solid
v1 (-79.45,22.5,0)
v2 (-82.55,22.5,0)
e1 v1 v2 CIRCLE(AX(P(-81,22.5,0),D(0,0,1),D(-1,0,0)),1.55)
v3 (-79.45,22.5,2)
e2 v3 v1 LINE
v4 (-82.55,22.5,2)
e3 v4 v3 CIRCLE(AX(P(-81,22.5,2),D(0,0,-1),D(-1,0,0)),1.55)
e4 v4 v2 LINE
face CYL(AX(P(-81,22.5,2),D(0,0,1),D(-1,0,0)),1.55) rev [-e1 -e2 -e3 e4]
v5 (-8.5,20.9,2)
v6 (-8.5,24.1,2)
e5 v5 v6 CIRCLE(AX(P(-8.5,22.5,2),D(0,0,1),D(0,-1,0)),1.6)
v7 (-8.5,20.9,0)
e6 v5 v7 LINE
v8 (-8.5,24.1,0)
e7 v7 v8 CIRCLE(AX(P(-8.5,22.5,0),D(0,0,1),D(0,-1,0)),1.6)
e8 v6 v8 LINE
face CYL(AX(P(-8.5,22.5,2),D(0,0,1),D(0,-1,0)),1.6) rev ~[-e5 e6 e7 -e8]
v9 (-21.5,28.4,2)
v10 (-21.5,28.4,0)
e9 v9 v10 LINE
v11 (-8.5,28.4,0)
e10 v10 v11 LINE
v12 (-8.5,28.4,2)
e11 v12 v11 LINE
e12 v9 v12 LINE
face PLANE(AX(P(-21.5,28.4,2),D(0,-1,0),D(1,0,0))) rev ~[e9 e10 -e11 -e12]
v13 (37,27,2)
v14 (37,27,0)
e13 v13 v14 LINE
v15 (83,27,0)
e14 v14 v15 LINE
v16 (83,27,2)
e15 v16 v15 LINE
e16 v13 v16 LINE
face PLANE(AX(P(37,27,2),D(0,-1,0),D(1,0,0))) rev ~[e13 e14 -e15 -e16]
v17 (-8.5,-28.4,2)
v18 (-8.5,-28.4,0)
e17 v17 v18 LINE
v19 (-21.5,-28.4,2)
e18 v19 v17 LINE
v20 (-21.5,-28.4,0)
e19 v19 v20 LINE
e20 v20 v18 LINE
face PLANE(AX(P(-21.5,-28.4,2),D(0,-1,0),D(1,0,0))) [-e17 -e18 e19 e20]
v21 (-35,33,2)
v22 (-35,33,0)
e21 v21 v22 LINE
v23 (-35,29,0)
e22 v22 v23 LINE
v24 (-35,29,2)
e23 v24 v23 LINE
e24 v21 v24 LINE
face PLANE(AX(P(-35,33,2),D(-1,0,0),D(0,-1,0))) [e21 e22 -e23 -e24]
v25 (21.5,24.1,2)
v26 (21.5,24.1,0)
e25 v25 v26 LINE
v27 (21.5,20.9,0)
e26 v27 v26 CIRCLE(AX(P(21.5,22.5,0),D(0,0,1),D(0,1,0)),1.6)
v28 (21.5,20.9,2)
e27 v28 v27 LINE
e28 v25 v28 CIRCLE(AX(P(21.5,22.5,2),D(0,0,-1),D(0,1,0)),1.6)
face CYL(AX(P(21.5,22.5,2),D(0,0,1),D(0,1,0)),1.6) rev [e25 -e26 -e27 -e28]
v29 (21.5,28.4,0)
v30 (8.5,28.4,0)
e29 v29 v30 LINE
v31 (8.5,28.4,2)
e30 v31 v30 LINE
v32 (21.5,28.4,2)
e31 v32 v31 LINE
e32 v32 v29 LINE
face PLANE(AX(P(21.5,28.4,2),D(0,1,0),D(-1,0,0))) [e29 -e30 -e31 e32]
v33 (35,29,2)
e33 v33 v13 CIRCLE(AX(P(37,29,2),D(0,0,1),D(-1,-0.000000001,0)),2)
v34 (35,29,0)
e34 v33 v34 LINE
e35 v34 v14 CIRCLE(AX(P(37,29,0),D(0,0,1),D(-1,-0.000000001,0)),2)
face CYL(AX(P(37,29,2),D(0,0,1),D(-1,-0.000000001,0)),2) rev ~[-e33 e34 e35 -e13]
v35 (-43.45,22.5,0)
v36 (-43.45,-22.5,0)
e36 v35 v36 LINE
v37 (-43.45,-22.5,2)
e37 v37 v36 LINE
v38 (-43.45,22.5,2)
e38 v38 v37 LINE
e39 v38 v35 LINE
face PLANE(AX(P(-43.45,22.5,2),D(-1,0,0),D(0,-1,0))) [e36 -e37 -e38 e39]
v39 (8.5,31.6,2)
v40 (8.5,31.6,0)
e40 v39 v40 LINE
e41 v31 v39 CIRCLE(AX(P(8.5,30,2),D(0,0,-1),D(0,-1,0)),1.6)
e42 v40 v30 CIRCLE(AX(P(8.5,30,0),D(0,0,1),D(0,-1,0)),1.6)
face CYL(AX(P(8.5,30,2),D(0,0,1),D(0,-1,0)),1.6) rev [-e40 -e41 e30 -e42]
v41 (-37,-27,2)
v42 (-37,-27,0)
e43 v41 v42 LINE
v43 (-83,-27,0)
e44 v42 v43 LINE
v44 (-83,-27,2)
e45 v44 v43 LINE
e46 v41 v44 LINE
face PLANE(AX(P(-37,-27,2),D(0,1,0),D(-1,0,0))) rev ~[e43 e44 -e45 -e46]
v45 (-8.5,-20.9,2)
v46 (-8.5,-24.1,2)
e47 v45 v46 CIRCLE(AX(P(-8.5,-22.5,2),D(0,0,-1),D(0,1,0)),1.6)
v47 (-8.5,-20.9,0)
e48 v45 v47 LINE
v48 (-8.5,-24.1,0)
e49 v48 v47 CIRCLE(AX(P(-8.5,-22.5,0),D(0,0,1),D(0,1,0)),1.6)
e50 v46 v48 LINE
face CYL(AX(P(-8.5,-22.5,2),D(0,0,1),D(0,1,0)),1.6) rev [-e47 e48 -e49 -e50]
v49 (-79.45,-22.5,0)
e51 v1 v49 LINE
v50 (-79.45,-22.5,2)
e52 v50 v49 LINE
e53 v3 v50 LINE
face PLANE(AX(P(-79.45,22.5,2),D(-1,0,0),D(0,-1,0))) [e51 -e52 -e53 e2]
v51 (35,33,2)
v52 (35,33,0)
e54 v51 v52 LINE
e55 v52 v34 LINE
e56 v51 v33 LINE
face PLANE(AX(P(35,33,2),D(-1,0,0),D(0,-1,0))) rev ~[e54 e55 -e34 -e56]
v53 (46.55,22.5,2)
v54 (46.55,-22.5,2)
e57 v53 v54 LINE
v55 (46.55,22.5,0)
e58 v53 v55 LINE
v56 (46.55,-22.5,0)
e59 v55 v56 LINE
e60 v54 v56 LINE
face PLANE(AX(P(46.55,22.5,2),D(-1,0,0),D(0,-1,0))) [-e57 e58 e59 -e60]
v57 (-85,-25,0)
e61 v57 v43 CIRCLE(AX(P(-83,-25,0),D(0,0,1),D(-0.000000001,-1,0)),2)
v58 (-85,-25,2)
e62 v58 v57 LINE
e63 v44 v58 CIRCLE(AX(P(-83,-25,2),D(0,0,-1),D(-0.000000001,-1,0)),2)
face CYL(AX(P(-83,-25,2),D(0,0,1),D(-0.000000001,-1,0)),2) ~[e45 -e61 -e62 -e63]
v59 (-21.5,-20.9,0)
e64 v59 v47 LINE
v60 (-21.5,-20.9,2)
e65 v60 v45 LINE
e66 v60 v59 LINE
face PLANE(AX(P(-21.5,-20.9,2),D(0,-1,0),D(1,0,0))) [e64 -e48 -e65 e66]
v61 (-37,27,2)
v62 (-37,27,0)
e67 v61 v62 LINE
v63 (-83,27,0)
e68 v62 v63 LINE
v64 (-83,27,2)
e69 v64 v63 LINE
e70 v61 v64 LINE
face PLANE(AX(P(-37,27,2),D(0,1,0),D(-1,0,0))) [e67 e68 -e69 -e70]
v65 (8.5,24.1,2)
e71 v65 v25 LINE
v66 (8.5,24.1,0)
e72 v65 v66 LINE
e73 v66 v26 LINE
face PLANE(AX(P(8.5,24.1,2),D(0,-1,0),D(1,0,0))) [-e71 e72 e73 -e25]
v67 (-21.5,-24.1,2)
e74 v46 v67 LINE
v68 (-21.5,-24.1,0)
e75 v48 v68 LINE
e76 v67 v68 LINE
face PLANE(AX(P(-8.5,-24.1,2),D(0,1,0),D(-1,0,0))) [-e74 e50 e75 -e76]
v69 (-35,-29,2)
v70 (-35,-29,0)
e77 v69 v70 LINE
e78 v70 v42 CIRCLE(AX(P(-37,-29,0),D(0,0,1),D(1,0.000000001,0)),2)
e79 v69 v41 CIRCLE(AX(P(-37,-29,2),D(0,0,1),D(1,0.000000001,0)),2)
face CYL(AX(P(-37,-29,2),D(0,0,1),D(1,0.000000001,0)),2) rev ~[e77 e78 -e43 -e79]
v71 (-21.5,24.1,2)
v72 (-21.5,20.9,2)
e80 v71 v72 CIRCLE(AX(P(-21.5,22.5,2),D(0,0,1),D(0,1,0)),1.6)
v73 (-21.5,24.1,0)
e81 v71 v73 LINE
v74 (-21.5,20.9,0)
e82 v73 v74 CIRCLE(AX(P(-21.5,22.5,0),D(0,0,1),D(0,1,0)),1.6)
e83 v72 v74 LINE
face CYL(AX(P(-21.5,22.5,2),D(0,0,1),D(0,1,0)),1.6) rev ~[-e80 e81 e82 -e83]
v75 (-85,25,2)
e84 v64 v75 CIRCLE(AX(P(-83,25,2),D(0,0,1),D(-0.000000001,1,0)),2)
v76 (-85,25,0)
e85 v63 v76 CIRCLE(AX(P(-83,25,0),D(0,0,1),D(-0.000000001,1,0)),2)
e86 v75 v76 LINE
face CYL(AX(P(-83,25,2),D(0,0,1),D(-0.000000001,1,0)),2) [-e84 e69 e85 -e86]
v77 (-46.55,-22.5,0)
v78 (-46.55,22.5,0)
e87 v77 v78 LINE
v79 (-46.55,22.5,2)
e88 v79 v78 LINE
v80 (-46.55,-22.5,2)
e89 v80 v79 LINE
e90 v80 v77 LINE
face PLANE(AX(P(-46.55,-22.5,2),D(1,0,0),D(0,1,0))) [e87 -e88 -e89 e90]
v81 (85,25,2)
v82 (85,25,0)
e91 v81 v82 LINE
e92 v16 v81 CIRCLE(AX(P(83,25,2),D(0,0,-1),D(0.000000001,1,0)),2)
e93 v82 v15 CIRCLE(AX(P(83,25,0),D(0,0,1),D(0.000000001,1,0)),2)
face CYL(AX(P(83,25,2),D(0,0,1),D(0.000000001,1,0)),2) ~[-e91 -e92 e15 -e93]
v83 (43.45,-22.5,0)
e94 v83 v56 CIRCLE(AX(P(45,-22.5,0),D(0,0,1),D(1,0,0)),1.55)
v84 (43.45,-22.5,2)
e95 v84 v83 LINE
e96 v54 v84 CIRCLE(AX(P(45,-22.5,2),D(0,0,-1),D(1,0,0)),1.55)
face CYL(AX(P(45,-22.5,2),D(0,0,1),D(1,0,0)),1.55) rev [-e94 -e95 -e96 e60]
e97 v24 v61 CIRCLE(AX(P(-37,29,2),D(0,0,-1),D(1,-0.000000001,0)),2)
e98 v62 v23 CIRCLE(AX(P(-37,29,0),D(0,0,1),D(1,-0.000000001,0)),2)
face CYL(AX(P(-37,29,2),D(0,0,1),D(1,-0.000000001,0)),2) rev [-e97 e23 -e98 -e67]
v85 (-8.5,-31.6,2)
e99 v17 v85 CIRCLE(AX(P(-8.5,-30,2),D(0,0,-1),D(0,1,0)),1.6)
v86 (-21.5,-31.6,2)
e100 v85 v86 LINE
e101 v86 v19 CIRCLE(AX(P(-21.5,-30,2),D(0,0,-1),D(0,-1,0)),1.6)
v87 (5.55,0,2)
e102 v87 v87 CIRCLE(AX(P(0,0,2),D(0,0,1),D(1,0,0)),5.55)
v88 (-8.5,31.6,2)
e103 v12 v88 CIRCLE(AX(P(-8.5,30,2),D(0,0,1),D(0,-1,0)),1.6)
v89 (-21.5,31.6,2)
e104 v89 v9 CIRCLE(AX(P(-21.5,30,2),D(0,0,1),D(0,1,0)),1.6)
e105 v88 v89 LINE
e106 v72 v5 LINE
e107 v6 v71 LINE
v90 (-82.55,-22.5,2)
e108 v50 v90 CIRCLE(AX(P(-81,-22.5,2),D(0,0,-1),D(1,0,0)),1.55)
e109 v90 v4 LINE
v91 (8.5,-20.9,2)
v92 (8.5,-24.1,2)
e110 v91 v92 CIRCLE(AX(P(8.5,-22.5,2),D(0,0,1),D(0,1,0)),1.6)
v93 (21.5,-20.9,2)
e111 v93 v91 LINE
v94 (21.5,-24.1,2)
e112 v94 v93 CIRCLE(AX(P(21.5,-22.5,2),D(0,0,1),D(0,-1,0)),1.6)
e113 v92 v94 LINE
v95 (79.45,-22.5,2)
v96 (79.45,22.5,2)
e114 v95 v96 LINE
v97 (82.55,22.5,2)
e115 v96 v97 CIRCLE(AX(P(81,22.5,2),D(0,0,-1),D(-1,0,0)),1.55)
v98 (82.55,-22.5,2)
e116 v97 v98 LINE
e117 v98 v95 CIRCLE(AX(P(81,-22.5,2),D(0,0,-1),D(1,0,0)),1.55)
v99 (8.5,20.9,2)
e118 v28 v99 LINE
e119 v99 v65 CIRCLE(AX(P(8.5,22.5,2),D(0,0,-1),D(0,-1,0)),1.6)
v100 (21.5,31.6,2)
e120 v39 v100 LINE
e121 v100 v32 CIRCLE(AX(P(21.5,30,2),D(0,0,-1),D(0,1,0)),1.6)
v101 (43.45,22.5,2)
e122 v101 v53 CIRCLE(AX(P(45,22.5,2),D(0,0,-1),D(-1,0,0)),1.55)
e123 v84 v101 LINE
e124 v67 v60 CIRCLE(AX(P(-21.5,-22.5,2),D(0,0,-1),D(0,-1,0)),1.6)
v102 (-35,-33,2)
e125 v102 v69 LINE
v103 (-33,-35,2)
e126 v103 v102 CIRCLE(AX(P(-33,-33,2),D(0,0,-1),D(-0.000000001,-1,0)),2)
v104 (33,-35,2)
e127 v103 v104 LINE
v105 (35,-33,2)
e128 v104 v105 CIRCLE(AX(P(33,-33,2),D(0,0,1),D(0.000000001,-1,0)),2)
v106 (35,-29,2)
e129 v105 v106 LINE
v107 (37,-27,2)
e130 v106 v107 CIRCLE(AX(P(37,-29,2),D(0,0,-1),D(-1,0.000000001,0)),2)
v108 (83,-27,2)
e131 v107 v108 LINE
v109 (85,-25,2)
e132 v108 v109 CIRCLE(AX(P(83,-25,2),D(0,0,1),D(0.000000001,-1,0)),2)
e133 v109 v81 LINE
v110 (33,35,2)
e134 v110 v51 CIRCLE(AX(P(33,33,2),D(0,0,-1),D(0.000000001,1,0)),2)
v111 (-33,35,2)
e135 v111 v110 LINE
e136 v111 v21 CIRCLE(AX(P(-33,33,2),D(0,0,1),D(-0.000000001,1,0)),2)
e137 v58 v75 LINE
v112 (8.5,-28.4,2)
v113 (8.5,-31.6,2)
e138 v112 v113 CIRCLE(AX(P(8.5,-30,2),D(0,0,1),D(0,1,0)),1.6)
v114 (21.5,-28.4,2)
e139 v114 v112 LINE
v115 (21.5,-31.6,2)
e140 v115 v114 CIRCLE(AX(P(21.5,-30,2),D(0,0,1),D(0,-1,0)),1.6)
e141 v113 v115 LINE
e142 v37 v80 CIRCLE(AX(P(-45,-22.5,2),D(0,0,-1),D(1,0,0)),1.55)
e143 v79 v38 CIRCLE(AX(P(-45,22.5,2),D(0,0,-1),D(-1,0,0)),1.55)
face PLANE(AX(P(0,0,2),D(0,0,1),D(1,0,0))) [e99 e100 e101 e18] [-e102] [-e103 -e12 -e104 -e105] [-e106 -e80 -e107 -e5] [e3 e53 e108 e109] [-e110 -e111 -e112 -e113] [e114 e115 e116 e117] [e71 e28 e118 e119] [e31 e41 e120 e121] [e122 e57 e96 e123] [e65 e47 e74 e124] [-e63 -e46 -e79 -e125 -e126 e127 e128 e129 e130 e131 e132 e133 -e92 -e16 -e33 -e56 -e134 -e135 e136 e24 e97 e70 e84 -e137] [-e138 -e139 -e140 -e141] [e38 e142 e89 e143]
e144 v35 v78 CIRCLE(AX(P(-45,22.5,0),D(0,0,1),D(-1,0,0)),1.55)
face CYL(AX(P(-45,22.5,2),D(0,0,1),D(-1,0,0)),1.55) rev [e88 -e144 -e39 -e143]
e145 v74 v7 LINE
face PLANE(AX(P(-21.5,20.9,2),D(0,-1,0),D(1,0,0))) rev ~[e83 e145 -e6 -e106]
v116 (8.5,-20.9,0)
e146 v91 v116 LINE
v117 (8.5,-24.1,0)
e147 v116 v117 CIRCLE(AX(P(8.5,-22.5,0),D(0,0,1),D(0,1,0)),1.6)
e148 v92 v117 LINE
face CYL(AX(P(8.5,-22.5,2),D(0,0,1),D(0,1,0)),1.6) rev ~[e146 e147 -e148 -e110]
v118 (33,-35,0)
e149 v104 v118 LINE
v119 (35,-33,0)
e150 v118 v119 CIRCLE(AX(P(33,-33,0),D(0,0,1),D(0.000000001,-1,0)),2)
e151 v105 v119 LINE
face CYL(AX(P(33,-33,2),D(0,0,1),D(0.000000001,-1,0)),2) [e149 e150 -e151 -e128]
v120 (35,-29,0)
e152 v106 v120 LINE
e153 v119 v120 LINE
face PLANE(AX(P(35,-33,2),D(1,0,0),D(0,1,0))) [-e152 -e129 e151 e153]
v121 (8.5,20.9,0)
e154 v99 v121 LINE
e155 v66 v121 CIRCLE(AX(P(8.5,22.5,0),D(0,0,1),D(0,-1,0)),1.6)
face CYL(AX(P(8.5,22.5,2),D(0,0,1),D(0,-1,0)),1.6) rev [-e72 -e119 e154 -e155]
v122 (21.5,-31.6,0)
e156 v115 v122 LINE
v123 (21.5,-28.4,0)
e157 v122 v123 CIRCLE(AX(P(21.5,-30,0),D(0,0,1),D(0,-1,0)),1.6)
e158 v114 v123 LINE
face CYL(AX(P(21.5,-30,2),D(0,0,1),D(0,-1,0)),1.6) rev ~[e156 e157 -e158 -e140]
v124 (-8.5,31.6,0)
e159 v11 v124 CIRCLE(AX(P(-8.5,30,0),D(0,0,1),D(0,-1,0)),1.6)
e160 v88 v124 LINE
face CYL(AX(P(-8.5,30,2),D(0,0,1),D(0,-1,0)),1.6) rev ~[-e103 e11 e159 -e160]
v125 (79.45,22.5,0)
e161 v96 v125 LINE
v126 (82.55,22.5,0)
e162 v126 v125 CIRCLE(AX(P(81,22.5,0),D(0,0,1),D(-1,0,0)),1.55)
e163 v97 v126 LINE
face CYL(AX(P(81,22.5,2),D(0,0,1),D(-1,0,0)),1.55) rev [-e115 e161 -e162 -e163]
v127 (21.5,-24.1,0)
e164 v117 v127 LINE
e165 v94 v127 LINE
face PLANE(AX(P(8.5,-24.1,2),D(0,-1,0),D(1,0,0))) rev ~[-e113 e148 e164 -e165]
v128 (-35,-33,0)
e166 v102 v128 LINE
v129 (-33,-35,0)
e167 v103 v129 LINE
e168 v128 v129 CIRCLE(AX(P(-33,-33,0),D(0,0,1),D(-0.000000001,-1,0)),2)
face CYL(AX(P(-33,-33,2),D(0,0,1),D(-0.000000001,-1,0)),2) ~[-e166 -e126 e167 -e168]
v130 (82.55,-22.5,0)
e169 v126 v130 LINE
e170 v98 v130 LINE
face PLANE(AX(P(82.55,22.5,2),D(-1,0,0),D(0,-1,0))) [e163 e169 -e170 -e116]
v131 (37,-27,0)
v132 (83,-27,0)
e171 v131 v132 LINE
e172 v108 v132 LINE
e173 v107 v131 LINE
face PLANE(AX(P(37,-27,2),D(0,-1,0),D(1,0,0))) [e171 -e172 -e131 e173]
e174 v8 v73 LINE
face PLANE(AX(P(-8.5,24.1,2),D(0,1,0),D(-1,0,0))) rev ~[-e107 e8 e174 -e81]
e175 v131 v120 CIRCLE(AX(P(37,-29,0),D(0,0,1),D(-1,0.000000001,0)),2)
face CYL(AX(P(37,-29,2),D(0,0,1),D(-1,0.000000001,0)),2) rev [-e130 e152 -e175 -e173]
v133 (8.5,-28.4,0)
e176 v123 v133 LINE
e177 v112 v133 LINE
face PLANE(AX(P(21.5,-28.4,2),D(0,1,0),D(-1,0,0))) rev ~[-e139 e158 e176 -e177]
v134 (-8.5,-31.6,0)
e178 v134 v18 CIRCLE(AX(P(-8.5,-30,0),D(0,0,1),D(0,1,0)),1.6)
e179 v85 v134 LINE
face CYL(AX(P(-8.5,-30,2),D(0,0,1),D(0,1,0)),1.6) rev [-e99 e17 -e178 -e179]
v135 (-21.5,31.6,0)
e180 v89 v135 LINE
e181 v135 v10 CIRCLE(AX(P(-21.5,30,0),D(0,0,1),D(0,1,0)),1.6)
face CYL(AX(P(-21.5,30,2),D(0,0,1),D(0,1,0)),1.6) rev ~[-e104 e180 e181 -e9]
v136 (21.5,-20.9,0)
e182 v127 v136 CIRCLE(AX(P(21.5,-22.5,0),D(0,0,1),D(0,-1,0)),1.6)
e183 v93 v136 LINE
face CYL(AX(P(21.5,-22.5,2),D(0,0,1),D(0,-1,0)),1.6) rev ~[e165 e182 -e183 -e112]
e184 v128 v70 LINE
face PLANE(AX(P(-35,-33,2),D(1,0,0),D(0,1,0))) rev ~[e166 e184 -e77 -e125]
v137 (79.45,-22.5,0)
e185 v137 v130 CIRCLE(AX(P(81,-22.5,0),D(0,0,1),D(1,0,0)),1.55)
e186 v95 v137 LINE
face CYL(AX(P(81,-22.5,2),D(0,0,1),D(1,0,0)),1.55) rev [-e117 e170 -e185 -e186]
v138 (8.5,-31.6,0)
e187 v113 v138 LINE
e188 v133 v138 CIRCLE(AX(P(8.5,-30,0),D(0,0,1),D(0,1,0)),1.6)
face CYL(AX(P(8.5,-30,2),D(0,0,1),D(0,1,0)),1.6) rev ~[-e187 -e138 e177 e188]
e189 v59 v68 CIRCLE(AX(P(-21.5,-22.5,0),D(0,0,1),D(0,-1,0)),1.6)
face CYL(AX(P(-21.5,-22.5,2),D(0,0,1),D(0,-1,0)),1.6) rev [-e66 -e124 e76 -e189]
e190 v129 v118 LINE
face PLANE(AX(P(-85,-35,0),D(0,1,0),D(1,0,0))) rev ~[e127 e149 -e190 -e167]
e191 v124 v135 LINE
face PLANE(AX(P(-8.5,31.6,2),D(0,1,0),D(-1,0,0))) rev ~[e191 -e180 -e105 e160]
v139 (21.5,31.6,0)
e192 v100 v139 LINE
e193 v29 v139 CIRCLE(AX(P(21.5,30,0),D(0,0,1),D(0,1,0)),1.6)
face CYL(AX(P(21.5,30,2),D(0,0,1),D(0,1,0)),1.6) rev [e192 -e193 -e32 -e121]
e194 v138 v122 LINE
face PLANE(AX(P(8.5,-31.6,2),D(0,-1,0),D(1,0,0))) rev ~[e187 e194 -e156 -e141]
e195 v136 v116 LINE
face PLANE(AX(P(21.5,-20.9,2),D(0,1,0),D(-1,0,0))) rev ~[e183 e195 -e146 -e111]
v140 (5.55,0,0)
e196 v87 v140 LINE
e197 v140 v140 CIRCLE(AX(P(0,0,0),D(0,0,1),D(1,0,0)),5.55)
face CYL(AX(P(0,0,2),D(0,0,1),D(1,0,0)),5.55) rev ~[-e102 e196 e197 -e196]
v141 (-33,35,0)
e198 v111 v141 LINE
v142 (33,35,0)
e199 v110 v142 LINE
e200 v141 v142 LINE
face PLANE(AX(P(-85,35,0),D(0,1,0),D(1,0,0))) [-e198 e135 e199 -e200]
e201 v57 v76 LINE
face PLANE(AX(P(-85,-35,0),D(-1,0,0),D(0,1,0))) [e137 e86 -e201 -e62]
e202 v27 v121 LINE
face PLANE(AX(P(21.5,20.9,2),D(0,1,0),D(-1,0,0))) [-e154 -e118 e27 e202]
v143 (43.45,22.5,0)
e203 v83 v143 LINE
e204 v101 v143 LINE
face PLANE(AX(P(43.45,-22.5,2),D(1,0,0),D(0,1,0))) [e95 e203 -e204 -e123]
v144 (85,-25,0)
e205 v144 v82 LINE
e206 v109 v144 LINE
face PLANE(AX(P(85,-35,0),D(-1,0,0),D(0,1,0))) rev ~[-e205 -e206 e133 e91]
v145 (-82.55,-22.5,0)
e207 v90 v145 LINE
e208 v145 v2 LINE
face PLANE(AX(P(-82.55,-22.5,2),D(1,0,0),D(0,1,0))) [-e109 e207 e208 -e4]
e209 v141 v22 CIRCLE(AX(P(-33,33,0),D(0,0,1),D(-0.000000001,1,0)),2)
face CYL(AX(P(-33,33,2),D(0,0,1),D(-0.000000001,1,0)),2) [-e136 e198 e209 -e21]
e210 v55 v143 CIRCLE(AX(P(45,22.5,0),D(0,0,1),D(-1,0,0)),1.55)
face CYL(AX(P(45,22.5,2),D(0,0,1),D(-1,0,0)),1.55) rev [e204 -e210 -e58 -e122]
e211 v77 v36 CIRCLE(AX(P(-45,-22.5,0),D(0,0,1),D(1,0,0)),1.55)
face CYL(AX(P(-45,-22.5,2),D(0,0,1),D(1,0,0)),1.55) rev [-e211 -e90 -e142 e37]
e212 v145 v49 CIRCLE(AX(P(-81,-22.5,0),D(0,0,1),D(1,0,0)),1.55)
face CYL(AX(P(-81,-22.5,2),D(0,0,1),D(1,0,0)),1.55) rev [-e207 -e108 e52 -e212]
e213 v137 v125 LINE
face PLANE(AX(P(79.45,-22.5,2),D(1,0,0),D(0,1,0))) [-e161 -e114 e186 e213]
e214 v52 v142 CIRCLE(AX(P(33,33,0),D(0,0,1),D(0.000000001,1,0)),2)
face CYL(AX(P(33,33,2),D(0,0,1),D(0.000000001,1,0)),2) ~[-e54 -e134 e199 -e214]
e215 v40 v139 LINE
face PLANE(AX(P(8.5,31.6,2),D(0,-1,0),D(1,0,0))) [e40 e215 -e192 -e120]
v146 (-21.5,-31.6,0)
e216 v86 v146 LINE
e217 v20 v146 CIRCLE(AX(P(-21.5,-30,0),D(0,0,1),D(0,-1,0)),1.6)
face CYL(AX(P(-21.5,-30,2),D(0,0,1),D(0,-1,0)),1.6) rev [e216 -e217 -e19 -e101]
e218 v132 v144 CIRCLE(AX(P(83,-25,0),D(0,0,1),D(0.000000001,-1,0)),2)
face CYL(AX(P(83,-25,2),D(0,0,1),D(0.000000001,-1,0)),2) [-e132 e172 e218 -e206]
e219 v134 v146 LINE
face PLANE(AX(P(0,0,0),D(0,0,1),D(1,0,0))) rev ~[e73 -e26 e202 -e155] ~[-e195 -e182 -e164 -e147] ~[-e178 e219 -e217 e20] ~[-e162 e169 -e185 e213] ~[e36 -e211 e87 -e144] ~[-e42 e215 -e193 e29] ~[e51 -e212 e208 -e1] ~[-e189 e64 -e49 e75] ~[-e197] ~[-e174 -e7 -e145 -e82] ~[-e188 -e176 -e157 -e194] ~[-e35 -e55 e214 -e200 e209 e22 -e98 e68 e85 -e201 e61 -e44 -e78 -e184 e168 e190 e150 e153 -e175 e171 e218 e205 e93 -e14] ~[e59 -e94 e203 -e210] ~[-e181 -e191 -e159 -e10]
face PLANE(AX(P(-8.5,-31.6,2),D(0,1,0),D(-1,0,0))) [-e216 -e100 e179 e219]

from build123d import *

# Parameters (mm, degrees)
SKETCH_1_W          = 170
SKETCH_1_H          = 70
EXTRUDE_1_DEPTH     = 2
SKETCH_2_R          = 5.55
CUT_EXTRUDE_1_DEPTH = 92.945636112
CUT_EXTRUDE_2_DEPTH = 92.945636112


with BuildPart() as part:
    # 草圖1 → 填料-伸長1 (new body)
    with BuildSketch(Plane.XY):
        Rectangle(SKETCH_1_W, SKETCH_1_H)
    extrude(amount=EXTRUDE_1_DEPTH)

    # 草圖2 → 除料-伸長1 (cut, through all)
    with BuildSketch(Plane.XY.offset(2)):
        Circle(SKETCH_2_R)
        with BuildLine():
            Line((43.45, -22.5), (43.45, 22.5))
            ThreePointArc((43.45, 22.5), (45, 24.05), (46.55, 22.5))
            Line((46.55, 22.5), (46.55, -22.5))
            ThreePointArc((46.55, -22.5), (45, -24.05), (43.45, -22.5))
        make_face()
        with BuildLine():
            Line((-46.55, -22.5), (-46.55, 22.5))
            ThreePointArc((-46.55, 22.5), (-45, 24.05), (-43.45, 22.5))
            Line((-43.45, 22.5), (-43.45, -22.5))
            ThreePointArc((-43.45, -22.5), (-45, -24.05), (-46.55, -22.5))
        make_face()
        with BuildLine():
            Line((21.5, 28.4), (8.5, 28.4))
            ThreePointArc((8.5, 28.4), (6.9, 30), (8.5, 31.6))
            Line((8.5, 31.6), (21.5, 31.6))
            ThreePointArc((21.5, 31.6), (23.1, 30), (21.5, 28.4))
        make_face()
        with BuildLine():
            Line((-82.55, -22.5), (-82.55, 22.5))
            ThreePointArc((-82.55, 22.5), (-81, 24.05), (-79.45, 22.5))
            Line((-79.45, 22.5), (-79.45, -22.5))
            ThreePointArc((-79.45, -22.5), (-81, -24.05), (-82.55, -22.5))
        make_face()
        with BuildLine():
            Line((79.45, -22.5), (79.45, 22.5))
            ThreePointArc((79.45, 22.5), (81, 24.05), (82.55, 22.5))
            Line((82.55, 22.5), (82.55, -22.5))
            ThreePointArc((82.55, -22.5), (81, -24.05), (79.45, -22.5))
        make_face()
        with BuildLine():
            Line((21.5, 20.9), (8.5, 20.9))
            ThreePointArc((8.5, 20.9), (6.9, 22.5), (8.5, 24.1))
            Line((8.5, 24.1), (21.5, 24.1))
            ThreePointArc((21.5, 24.1), (23.1, 22.5), (21.5, 20.9))
        make_face()
        with BuildLine():
            Line((-21.5, 28.4), (-8.5, 28.4))
            ThreePointArc((-8.5, 28.4), (-6.9, 30), (-8.5, 31.6))
            Line((-8.5, 31.6), (-21.5, 31.6))
            ThreePointArc((-21.5, 31.6), (-23.1, 30), (-21.5, 28.4))
        make_face()
        with BuildLine():
            Line((-21.5, 20.9), (-8.5, 20.9))
            ThreePointArc((-8.5, 20.9), (-6.9, 22.5), (-8.5, 24.1))
            Line((-8.5, 24.1), (-21.5, 24.1))
            ThreePointArc((-21.5, 24.1), (-23.1, 22.5), (-21.5, 20.9))
        make_face()
        with BuildLine():
            Line((21.5, -28.4), (8.5, -28.4))
            ThreePointArc((8.5, -28.4), (6.9, -30), (8.5, -31.6))
            Line((8.5, -31.6), (21.5, -31.6))
            ThreePointArc((21.5, -31.6), (23.1, -30), (21.5, -28.4))
        make_face()
        with BuildLine():
            Line((21.5, -20.9), (8.5, -20.9))
            ThreePointArc((8.5, -20.9), (6.9, -22.5), (8.5, -24.1))
            Line((8.5, -24.1), (21.5, -24.1))
            ThreePointArc((21.5, -24.1), (23.1, -22.5), (21.5, -20.9))
        make_face()
        with BuildLine():
            Line((-21.5, -28.4), (-8.5, -28.4))
            ThreePointArc((-8.5, -28.4), (-6.9, -30), (-8.5, -31.6))
            Line((-8.5, -31.6), (-21.5, -31.6))
            ThreePointArc((-21.5, -31.6), (-23.1, -30), (-21.5, -28.4))
        make_face()
        with BuildLine():
            Line((-21.5, -20.9), (-8.5, -20.9))
            ThreePointArc((-8.5, -20.9), (-6.9, -22.5), (-8.5, -24.1))
            Line((-8.5, -24.1), (-21.5, -24.1))
            ThreePointArc((-21.5, -24.1), (-23.1, -22.5), (-21.5, -20.9))
        make_face()
    extrude(amount=-CUT_EXTRUDE_1_DEPTH, mode=Mode.SUBTRACT)

    # 草圖4 → 除料-伸長2 (cut, through all)
    with BuildSketch(Plane.XY.offset(2)):
        with BuildLine():
            Line((85, 35), (33, 35))
            ThreePointArc((33, 35), (34.414213562, 34.414213562), (35, 33))
            Line((35, 33), (35, 29))
            ThreePointArc((35, 29), (35.585786438, 27.585786438), (37, 27))
            Line((37, 27), (83, 27))
            ThreePointArc((83, 27), (84.414213562, 26.414213562), (85, 25))
            Line((85, 25), (85, 35))
        make_face()
        with BuildLine():
            Line((35, -33), (35, -29))
            ThreePointArc((35, -29), (35.585786438, -27.585786438), (37, -27))
            Line((37, -27), (83, -27))
            ThreePointArc((83, -27), (84.414213562, -26.414213562), (85, -25))
            Line((85, -25), (85, -35))
            Line((85, -35), (33, -35))
            ThreePointArc((33, -35), (34.414213562, -34.414213562), (35, -33))
        make_face()
        with BuildLine():
            Line((-85, -35), (-33, -35))
            ThreePointArc((-33, -35), (-34.414213562, -34.414213562), (-35, -33))
            Line((-35, -33), (-35, -29))
            ThreePointArc((-35, -29), (-35.585786438, -27.585786438), (-37, -27))
            Line((-37, -27), (-83, -27))
            ThreePointArc((-83, -27), (-84.414213562, -26.414213562), (-85, -25))
            Line((-85, -25), (-85, -35))
        make_face()
        with BuildLine():
            Line((-35, 33), (-35, 29))
            ThreePointArc((-35, 29), (-35.585786438, 27.585786438), (-37, 27))
            Line((-37, 27), (-83, 27))
            ThreePointArc((-83, 27), (-84.414213562, 26.414213562), (-85, 25))
            Line((-85, 25), (-85, 35))
            Line((-85, 35), (-33, 35))
            ThreePointArc((-33, 35), (-34.414213562, 34.414213562), (-35, 33))
        make_face()
    extrude(amount=-CUT_EXTRUDE_2_DEPTH, mode=Mode.SUBTRACT)


solid = part.part
